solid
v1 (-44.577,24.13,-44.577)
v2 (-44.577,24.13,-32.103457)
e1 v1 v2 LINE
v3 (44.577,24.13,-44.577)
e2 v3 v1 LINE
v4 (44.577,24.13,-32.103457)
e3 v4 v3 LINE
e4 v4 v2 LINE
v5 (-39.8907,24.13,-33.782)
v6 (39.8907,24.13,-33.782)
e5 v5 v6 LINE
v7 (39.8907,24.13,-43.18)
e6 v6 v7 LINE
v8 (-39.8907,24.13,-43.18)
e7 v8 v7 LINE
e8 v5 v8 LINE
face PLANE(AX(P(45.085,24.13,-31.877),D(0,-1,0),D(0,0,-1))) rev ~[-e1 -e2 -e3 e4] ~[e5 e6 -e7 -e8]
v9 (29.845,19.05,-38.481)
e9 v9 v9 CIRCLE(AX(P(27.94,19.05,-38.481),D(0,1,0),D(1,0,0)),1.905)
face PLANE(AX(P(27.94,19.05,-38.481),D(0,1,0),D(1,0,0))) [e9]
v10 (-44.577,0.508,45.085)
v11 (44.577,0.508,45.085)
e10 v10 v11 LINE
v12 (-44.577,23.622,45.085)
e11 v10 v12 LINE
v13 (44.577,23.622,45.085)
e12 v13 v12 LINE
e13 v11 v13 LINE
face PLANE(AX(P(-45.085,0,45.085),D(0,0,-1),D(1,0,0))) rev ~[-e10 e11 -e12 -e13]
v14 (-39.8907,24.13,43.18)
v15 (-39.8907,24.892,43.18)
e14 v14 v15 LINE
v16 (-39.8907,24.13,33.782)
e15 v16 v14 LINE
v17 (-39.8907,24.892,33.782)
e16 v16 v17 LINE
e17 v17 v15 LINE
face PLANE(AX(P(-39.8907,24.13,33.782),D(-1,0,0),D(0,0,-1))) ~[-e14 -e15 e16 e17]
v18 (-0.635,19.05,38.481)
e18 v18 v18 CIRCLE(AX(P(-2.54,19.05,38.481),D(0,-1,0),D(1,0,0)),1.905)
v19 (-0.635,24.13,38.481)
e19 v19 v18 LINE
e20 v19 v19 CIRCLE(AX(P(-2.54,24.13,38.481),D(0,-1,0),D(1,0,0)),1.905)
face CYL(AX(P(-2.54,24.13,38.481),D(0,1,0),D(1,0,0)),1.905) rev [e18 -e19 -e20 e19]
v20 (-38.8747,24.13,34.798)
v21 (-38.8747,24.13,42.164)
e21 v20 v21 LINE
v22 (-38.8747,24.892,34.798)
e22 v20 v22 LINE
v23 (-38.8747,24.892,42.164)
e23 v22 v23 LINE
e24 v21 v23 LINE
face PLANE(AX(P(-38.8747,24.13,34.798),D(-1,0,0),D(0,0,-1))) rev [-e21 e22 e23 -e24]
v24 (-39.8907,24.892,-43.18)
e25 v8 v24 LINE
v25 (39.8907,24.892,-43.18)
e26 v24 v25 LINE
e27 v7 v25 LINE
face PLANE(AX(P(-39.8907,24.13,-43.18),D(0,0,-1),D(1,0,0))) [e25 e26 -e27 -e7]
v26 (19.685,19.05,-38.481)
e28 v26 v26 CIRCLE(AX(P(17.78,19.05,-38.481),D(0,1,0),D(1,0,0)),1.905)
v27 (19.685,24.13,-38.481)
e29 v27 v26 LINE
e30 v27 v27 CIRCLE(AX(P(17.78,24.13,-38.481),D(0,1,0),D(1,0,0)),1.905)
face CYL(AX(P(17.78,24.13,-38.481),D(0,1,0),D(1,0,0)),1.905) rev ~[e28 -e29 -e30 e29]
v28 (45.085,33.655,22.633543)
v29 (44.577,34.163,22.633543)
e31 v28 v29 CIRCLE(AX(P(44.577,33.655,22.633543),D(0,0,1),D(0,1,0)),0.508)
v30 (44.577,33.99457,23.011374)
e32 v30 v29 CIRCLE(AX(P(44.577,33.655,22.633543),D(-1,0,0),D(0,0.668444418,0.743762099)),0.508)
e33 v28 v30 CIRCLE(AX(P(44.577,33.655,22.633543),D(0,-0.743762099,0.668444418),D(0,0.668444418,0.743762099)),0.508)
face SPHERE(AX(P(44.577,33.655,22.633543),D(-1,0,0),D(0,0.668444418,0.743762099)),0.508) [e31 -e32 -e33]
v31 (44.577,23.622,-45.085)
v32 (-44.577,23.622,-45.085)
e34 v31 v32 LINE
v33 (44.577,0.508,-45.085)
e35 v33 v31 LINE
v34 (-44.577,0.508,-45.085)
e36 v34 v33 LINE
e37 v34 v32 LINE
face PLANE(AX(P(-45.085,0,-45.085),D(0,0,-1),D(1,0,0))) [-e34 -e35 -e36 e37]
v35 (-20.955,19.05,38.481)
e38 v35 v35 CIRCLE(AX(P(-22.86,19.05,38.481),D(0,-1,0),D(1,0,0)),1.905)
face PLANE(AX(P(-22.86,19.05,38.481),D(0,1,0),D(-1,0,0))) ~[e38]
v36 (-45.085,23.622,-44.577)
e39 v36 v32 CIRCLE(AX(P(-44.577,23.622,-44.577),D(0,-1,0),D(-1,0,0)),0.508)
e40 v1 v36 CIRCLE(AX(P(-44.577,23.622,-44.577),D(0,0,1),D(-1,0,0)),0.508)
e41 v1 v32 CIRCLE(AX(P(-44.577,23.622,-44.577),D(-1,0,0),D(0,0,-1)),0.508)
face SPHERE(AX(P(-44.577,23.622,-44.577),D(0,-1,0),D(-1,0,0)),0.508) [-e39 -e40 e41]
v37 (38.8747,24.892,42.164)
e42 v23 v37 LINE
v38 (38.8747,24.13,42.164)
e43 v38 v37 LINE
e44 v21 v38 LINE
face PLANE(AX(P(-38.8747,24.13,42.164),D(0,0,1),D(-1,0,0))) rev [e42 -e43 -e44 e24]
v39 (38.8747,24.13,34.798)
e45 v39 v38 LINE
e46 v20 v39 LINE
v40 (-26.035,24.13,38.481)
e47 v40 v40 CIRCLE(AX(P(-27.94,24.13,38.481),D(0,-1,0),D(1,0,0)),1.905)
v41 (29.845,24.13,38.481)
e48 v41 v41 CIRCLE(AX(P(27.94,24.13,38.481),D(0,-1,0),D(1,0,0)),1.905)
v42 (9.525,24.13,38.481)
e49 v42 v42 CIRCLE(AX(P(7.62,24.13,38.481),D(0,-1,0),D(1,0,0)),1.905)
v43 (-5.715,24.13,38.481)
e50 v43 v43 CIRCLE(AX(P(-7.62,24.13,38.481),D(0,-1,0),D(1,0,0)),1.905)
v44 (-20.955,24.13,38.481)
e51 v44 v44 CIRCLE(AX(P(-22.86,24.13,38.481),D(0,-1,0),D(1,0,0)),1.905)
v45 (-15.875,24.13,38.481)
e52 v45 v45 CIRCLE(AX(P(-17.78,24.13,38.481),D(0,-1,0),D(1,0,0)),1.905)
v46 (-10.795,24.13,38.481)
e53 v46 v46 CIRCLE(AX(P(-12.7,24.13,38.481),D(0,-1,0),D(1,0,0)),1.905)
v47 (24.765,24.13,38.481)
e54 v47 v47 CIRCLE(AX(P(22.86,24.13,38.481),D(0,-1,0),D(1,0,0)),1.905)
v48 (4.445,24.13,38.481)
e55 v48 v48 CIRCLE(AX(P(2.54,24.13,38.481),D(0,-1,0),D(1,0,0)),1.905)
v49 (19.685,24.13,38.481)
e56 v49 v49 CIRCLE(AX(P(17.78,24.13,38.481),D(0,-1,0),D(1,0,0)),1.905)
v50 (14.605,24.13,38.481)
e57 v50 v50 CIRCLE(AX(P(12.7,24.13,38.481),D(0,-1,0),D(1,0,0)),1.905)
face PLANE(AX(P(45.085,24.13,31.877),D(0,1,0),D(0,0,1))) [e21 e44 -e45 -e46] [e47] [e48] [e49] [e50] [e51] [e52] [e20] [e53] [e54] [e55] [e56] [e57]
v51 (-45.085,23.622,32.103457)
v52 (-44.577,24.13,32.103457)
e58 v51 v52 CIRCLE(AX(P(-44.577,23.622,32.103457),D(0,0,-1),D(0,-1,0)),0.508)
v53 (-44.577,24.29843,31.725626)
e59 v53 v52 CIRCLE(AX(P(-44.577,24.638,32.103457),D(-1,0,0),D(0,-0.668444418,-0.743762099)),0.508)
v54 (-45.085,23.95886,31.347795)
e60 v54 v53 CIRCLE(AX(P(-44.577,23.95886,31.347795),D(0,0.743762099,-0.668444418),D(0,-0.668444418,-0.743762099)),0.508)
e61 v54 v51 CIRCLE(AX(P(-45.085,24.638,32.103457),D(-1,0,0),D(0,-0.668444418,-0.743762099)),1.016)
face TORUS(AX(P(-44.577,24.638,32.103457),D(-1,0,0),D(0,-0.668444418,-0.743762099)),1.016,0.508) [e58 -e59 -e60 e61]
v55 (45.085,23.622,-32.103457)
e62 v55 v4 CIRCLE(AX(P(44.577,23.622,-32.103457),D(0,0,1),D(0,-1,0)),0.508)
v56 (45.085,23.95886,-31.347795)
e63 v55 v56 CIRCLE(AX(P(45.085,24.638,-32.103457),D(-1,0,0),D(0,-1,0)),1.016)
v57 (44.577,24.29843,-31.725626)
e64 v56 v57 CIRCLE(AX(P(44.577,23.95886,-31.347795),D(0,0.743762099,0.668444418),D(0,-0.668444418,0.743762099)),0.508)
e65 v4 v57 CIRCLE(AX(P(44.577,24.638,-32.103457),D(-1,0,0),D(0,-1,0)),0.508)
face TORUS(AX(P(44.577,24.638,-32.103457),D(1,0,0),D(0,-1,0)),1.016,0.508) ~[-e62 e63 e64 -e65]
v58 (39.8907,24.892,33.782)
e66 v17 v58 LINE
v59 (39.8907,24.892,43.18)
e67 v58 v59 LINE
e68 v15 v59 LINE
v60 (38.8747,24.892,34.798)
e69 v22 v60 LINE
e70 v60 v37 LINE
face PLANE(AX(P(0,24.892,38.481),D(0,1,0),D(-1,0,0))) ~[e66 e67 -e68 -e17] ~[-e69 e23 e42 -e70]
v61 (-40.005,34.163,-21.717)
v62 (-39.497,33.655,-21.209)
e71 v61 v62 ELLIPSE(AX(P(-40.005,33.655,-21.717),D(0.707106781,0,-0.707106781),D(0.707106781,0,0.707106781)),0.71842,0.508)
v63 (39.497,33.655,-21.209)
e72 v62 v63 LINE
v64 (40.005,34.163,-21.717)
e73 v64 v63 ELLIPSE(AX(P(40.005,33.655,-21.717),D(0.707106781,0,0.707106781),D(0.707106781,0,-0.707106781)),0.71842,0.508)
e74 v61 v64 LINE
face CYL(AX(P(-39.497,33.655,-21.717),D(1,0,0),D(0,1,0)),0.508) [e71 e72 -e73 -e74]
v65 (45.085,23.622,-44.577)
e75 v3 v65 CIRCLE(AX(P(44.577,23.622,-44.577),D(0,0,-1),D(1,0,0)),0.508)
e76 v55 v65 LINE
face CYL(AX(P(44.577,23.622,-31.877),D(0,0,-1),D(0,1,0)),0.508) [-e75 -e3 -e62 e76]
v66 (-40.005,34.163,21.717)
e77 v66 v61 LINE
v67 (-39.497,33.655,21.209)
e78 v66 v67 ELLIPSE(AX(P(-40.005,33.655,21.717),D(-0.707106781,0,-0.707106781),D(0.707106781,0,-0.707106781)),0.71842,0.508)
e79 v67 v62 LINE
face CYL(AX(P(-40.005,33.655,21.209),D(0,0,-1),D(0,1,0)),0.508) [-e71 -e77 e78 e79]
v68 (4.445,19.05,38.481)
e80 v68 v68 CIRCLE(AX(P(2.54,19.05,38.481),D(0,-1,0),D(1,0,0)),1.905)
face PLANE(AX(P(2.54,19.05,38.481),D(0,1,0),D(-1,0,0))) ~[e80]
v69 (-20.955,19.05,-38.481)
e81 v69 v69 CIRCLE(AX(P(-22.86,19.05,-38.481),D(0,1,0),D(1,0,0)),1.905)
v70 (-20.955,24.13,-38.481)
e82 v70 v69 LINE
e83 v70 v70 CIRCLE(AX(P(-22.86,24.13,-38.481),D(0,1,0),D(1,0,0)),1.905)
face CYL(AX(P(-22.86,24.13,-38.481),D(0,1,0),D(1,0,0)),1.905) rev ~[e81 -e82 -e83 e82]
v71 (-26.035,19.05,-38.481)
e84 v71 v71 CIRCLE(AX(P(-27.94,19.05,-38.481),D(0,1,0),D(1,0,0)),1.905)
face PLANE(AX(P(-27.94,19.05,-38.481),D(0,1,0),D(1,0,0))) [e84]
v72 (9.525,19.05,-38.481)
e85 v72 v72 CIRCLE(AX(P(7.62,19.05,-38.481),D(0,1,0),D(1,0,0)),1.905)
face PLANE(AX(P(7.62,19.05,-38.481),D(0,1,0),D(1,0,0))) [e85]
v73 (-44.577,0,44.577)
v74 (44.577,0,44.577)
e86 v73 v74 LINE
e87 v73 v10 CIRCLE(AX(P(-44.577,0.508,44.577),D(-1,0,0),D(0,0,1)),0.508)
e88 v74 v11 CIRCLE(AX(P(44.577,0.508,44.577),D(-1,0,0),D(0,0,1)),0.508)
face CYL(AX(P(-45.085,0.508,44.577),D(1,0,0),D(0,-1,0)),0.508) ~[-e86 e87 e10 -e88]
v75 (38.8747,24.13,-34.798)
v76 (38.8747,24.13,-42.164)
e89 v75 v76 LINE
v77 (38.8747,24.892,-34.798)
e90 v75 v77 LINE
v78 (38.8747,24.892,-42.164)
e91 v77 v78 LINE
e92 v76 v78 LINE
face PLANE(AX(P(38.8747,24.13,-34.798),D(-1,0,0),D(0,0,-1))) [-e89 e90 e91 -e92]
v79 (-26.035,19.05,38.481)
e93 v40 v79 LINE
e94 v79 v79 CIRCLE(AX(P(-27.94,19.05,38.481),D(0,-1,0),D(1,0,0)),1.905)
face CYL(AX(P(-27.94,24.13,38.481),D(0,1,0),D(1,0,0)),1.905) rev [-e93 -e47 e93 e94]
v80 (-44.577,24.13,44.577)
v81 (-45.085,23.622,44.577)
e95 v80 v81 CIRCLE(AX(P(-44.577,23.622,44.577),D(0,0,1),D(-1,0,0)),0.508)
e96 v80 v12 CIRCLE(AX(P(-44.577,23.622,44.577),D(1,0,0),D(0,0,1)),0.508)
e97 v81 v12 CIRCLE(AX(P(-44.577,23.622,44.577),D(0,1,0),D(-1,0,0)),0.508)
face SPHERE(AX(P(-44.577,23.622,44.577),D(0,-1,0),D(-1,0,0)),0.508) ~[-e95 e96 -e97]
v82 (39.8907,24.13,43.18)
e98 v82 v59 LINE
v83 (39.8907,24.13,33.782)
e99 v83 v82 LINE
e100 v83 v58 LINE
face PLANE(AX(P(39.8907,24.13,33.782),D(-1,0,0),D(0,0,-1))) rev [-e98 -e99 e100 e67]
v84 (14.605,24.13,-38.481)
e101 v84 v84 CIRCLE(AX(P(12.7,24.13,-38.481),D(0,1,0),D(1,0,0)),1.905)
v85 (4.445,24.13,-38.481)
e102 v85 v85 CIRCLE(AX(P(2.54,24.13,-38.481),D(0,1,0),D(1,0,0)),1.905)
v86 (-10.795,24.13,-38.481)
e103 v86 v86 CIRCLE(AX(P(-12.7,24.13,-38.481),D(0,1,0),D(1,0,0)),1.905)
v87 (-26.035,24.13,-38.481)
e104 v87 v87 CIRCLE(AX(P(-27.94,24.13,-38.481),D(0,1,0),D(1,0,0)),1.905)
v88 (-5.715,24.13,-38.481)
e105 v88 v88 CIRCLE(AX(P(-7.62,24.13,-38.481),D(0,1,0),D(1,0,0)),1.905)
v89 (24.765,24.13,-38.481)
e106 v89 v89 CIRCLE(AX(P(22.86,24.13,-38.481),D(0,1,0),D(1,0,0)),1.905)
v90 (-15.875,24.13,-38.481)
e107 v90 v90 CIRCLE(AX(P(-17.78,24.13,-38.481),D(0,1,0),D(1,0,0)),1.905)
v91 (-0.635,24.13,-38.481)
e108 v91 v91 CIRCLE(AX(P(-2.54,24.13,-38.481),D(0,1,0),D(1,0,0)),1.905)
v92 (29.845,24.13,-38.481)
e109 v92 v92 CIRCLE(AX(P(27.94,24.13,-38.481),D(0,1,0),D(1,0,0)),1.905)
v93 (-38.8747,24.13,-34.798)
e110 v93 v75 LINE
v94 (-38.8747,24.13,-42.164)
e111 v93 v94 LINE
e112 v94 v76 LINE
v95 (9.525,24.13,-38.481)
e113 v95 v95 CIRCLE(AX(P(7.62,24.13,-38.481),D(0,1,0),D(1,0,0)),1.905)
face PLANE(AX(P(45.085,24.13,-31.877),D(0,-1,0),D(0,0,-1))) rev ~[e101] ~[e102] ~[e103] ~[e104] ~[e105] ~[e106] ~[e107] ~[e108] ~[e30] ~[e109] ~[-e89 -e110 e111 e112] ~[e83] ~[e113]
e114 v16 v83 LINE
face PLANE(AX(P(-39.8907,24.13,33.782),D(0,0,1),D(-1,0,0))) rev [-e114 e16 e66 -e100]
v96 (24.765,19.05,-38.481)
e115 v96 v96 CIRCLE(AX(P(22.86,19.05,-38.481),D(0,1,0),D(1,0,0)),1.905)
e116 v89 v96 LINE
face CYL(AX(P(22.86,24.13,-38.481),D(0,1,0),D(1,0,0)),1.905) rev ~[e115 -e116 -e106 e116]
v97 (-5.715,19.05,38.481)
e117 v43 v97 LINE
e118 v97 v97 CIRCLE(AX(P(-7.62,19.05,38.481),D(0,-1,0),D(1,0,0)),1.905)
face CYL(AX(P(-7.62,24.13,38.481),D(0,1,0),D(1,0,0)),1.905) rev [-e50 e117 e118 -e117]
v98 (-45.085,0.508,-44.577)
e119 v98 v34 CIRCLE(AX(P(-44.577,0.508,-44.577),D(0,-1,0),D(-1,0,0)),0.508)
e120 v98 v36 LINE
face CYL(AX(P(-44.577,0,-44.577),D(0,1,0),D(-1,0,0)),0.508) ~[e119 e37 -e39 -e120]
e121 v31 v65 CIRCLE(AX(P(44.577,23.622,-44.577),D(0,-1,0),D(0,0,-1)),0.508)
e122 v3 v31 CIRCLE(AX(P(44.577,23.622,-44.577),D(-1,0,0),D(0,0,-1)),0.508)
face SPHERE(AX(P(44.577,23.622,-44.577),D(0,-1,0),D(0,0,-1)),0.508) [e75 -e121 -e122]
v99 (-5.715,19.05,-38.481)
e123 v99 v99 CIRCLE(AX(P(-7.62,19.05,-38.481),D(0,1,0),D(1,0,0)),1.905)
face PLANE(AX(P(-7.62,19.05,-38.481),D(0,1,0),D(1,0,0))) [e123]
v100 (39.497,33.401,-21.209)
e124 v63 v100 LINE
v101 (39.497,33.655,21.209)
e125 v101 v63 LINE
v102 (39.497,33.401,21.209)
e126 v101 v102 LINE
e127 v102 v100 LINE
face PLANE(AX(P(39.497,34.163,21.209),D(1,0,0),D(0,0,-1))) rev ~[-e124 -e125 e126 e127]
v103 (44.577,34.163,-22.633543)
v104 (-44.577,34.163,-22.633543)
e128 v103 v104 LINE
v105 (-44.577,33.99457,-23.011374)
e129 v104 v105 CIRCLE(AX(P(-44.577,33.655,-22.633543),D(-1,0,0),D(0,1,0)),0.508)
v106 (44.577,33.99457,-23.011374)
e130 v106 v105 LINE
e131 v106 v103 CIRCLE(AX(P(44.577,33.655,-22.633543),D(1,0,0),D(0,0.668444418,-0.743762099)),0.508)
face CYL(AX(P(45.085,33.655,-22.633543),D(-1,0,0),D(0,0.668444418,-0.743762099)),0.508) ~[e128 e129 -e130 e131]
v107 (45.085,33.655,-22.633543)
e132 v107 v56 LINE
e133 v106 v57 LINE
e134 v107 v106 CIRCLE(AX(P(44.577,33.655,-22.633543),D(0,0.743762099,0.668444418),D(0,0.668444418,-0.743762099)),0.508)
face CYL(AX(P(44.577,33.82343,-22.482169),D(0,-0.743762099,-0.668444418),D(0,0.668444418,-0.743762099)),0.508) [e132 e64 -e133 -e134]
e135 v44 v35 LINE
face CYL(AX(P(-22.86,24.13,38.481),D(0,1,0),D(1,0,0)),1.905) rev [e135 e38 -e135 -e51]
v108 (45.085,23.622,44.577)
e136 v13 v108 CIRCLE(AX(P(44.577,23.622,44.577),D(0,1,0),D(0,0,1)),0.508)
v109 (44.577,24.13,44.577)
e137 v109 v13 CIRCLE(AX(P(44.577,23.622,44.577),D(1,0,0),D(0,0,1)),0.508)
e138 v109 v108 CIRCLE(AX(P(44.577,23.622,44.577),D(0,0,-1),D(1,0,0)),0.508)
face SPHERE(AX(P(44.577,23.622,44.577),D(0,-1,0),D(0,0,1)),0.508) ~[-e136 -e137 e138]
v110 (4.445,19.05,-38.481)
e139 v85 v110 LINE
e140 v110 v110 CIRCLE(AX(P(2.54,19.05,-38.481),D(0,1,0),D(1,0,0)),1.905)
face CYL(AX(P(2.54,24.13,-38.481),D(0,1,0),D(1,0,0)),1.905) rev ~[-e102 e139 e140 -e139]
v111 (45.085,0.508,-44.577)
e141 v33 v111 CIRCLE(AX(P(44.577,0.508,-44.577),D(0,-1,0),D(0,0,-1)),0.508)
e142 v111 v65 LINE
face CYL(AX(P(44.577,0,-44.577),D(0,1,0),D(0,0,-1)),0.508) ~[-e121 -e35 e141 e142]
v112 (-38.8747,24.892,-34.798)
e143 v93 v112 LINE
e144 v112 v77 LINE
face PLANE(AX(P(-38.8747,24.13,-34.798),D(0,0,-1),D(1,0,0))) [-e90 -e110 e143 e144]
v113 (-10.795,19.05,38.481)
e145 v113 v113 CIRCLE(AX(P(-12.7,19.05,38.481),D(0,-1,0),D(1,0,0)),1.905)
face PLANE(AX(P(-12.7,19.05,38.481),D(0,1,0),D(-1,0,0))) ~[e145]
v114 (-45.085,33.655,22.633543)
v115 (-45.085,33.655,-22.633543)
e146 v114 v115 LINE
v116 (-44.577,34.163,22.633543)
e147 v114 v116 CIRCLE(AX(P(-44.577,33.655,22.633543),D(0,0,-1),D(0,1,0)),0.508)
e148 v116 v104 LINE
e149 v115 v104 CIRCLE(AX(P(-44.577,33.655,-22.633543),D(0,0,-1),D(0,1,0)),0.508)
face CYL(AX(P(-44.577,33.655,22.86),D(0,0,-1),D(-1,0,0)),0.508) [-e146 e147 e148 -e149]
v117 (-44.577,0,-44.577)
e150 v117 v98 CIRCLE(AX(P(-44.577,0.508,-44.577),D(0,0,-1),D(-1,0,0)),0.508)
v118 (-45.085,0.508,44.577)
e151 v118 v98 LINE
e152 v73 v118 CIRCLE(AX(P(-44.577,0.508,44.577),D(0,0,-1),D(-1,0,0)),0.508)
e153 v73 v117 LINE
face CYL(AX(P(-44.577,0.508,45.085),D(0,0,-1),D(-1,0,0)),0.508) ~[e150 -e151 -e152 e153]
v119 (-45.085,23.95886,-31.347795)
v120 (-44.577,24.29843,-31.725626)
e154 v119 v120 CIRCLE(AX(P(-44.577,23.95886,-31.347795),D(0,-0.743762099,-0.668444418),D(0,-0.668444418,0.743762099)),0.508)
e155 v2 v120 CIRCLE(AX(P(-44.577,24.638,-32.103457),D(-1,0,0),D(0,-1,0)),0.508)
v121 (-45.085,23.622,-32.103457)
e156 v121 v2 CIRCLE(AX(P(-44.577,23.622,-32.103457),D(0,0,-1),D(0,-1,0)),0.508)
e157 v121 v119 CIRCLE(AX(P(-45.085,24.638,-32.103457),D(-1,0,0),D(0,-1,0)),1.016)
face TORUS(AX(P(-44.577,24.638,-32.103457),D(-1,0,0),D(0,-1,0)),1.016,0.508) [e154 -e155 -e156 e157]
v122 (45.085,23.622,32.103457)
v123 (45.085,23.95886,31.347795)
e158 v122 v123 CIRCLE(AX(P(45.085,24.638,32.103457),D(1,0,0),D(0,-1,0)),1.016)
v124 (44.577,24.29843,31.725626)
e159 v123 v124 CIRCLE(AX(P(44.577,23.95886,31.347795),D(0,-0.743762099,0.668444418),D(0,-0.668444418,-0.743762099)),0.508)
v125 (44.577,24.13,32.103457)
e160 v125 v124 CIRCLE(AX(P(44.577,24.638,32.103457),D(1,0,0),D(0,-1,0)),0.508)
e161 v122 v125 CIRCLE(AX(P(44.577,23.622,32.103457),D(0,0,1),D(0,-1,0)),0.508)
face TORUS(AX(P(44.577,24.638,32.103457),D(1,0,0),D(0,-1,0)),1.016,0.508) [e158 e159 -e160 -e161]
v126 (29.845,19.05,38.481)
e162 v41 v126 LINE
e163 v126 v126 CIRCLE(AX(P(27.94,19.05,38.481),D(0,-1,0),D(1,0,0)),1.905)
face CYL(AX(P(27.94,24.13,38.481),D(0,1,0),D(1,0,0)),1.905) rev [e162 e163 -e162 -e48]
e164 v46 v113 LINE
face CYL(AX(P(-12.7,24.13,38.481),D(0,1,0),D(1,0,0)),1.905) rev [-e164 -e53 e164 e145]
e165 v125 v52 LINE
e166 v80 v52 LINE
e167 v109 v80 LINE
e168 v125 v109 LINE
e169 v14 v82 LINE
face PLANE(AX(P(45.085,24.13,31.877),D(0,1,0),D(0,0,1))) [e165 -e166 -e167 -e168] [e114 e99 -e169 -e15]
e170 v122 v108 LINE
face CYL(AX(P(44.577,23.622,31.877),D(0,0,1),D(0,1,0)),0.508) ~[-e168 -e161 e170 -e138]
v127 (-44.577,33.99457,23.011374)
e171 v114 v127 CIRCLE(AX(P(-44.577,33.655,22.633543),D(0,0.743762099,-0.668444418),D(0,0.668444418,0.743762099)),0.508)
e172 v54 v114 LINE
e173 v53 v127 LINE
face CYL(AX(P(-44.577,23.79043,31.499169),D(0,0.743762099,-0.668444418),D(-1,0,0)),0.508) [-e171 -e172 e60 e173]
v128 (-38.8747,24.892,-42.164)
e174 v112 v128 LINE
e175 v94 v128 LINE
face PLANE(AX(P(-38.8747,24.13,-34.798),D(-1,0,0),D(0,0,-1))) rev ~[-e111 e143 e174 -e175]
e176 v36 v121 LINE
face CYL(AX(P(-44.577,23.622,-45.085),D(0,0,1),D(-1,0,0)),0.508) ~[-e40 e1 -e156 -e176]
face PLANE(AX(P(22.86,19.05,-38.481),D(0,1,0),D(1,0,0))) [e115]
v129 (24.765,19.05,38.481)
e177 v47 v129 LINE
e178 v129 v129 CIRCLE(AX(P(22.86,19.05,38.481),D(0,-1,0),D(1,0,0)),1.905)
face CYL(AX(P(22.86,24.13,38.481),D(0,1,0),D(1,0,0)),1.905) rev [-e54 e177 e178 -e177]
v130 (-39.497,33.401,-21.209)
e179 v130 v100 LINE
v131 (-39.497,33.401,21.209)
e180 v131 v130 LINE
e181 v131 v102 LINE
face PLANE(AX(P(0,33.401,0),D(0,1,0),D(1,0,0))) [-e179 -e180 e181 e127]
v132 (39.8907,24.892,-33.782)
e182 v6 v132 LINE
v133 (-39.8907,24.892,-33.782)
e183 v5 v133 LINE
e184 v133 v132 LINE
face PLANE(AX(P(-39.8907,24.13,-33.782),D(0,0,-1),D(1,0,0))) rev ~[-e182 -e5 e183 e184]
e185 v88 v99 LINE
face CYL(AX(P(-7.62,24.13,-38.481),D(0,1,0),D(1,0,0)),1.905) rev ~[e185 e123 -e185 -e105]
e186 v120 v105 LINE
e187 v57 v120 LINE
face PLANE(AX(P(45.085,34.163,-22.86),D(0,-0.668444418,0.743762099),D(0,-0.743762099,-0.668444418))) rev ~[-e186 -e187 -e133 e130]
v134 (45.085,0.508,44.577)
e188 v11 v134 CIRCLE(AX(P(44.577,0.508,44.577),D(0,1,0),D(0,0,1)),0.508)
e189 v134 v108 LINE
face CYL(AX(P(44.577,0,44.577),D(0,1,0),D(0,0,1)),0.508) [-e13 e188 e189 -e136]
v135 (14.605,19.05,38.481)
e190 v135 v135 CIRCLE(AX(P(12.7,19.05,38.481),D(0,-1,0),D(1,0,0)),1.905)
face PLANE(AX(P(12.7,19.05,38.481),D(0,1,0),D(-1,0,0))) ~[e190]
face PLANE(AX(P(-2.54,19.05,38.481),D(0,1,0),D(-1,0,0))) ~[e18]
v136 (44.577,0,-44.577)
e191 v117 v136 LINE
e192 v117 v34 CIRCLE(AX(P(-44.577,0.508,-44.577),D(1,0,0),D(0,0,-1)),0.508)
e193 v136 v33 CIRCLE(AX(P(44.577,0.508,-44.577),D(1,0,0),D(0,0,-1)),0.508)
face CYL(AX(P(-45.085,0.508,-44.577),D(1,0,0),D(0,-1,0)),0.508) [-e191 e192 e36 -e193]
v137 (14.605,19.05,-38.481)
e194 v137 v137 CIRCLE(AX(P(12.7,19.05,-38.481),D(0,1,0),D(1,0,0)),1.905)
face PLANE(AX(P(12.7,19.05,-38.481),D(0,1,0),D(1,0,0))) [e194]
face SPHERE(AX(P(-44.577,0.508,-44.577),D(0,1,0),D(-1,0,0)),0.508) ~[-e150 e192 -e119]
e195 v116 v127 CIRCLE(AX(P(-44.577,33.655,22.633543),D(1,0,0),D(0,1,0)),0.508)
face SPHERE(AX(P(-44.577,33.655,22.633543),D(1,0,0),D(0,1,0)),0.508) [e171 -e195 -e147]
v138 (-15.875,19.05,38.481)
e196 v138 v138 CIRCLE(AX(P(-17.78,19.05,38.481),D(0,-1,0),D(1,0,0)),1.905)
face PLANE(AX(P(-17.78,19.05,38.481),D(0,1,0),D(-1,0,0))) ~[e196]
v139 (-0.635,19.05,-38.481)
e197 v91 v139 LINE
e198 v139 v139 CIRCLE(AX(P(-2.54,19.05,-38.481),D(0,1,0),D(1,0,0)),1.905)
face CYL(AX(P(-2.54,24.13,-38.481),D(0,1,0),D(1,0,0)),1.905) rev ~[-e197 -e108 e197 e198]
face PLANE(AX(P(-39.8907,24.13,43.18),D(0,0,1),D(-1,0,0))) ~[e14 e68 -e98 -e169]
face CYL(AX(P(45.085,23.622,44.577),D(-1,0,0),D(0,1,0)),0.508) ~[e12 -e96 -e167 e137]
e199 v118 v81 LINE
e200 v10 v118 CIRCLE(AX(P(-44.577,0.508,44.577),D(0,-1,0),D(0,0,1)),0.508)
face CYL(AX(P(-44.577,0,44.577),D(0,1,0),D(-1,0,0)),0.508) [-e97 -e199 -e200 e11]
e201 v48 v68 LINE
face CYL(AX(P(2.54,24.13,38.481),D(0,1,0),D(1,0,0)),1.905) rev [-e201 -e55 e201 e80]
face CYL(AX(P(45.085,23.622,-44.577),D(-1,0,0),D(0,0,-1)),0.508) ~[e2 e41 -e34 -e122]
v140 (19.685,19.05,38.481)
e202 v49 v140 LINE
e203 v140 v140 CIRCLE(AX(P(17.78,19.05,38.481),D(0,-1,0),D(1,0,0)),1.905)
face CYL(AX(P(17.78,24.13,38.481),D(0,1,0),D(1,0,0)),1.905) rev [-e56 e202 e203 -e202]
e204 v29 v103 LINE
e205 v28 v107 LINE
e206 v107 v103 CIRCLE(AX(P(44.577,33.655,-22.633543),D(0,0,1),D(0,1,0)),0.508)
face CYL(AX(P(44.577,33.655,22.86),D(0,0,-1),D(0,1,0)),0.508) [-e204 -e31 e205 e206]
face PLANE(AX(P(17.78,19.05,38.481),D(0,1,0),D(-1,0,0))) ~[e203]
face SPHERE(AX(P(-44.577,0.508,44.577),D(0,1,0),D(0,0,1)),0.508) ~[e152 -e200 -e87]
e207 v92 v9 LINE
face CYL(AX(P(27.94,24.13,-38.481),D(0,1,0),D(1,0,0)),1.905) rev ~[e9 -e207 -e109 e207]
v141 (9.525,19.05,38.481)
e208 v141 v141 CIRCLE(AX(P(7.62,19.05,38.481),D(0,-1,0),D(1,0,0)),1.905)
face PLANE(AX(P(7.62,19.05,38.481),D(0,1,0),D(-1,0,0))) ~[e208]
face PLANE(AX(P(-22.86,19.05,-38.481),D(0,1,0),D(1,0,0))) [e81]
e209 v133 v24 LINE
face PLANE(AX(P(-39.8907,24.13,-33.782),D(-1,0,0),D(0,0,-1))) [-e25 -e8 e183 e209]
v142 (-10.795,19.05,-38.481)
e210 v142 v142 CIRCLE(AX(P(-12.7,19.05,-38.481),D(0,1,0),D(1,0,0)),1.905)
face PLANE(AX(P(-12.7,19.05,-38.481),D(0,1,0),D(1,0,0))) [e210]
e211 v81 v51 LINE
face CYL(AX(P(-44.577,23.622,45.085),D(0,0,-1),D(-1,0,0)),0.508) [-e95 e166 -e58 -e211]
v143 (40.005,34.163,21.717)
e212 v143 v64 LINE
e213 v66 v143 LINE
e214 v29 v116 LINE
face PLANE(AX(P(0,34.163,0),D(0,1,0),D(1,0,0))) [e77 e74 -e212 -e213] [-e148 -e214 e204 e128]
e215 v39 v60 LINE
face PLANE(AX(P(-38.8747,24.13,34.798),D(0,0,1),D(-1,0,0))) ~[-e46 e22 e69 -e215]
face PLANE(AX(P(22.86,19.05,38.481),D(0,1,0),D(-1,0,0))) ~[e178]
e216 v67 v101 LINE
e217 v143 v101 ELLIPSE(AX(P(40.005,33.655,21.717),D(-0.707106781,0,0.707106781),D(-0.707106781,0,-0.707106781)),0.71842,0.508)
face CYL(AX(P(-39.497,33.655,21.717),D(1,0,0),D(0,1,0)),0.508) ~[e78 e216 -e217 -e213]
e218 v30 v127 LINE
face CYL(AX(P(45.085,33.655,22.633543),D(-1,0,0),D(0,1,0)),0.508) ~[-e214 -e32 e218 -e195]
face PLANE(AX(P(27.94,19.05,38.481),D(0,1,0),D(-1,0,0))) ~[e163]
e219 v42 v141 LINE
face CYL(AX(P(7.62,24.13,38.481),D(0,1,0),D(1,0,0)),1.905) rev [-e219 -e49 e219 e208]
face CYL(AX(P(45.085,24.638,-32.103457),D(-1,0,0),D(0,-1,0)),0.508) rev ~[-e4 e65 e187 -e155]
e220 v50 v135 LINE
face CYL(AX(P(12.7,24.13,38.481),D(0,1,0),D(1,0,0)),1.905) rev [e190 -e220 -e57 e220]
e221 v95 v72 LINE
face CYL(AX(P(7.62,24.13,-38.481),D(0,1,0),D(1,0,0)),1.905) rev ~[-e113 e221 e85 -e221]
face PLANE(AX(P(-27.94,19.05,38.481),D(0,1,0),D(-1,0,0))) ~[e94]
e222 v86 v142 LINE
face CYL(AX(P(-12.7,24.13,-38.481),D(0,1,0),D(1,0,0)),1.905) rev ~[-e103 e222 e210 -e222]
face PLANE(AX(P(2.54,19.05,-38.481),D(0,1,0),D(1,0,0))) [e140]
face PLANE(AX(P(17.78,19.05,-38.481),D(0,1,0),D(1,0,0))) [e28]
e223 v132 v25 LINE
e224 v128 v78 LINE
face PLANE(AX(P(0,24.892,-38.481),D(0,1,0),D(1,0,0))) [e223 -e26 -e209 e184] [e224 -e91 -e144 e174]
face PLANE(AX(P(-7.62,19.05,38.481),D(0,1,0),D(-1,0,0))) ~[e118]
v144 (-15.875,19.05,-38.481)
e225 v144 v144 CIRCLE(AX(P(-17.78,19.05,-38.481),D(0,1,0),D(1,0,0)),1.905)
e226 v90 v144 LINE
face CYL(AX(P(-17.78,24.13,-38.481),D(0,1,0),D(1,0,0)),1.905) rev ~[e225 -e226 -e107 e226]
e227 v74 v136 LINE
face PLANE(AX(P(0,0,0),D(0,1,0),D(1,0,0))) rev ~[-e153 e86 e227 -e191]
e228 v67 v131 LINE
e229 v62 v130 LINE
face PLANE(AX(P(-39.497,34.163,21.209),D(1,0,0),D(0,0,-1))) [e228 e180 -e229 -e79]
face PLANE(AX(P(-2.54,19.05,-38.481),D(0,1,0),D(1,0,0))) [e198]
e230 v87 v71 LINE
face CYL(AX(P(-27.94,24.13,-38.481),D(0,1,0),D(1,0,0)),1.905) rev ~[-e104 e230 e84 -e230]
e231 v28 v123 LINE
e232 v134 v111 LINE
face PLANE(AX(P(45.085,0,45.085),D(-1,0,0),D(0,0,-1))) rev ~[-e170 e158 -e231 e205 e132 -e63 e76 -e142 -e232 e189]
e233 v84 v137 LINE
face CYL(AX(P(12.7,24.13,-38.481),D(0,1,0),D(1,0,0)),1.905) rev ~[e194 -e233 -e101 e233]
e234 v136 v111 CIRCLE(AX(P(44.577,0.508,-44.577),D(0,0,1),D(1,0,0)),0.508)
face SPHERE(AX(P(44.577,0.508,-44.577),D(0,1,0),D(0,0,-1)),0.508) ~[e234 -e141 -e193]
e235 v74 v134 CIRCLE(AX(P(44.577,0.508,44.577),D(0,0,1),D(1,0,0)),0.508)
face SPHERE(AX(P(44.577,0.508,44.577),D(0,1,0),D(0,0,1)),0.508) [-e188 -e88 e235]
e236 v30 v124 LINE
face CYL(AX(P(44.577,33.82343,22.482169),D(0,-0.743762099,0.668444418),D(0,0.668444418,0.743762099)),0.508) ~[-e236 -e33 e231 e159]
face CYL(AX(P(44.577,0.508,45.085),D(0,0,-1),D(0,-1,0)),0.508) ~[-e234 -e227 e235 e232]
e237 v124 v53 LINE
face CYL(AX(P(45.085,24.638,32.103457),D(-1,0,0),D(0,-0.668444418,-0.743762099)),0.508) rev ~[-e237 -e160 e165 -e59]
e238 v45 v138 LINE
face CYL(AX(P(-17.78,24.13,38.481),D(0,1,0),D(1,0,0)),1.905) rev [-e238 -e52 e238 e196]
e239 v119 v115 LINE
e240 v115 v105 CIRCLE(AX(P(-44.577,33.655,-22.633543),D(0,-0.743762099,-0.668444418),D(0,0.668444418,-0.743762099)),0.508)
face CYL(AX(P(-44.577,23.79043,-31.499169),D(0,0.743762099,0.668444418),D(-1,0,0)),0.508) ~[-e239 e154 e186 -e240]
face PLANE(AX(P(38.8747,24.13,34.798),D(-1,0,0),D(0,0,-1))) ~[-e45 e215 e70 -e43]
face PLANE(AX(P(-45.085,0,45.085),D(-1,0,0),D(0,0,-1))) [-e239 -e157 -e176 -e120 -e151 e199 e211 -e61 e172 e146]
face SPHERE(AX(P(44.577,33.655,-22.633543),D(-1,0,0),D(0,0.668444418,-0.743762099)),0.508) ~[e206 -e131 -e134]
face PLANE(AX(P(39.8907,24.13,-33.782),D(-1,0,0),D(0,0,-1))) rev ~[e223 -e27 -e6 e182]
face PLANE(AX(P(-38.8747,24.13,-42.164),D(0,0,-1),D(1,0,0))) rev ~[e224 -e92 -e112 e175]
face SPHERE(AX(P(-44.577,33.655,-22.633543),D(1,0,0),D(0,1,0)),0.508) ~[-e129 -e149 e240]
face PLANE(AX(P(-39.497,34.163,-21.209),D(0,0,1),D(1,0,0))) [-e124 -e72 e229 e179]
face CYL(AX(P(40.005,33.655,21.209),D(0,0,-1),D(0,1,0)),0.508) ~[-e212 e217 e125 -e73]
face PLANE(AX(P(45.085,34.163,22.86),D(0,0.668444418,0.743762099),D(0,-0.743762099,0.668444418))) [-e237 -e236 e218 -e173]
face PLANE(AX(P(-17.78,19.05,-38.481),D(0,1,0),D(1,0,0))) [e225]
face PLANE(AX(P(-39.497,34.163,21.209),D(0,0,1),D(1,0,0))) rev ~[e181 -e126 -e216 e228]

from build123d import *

# Parameters (mm, degrees)
SKETCH1_W           = 90.17
SKETCH1_H           = 90.17
BOSS_EXTRUDE1_DEPTH = 34.163
CUT_EXTRUDE1_DEPTH  = 91.17
SKETCH3_W           = 78.994
SKETCH3_H           = 42.418
CUT_EXTRUDE2_DEPTH  = 0.762
SKETCH4_W           = 79.7814
SKETCH4_H           = 9.398
SKETCH4_W_2         = 77.7494
SKETCH4_H_2         = 7.366
BOSS_EXTRUDE2_DEPTH = 0.762
SKETCH5_R           = 1.905
CUT_EXTRUDE3_DEPTH  = 5.08
FILLET1_R           = 0.508


with BuildPart() as part:
    # Sketch1 → Boss-Extrude1 (new body)
    with BuildSketch(Plane(origin=(0, 0, 0), x_dir=(1, 0, 0), z_dir=(0, 1, 0))):
        Rectangle(SKETCH1_W, SKETCH1_H)
    extrude(amount=BOSS_EXTRUDE1_DEPTH)

    # Sketch2 → Cut-Extrude1 (cut, through all)
    with BuildSketch(Plane(origin=(45.085, 0, 0), x_dir=(0, 0, -1), z_dir=(1, 0, 0))):
        Polygon((-45.085, 24.13), (-45.085, 34.163), (-22.86, 34.163), (-31.877, 24.13), align=None)
        Polygon((45.085, 24.13), (45.085, 34.163), (22.86, 34.163), (31.877, 24.13), align=None)
    extrude(amount=-CUT_EXTRUDE1_DEPTH, mode=Mode.SUBTRACT)

    # Sketch3 → Cut-Extrude2 (cut)
    with BuildSketch(Plane(origin=(0, 34.163, 0), x_dir=(1, 0, 0), z_dir=(0, 1, 0))):
        Rectangle(SKETCH3_W, SKETCH3_H)
    extrude(amount=-CUT_EXTRUDE2_DEPTH, mode=Mode.SUBTRACT)

    # Sketch4 → Boss-Extrude2 (add)
    with BuildSketch(Plane(origin=(0, 24.13, 0), x_dir=(1, 0, 0), z_dir=(0, 1, 0))):
        with Locations((0, 38.481)):
            Rectangle(SKETCH4_W, SKETCH4_H)
        with Locations((0, 38.481)):
            Rectangle(SKETCH4_W_2, SKETCH4_H_2, mode=Mode.SUBTRACT)
    boss_extrude2 = extrude(amount=BOSS_EXTRUDE2_DEPTH)

    # Sketch5 → Cut-Extrude3 (cut)
    with BuildSketch(Plane(origin=(0, 24.13, 0), x_dir=(1, 0, 0), z_dir=(0, 1, 0))):
        with Locations((-2.54, 38.481)):
            Circle(SKETCH5_R)
        with Locations((-7.62, 38.481)):
            Circle(SKETCH5_R)
        with Locations((-12.7, 38.481)):
            Circle(SKETCH5_R)
        with Locations((-17.78, 38.481)):
            Circle(SKETCH5_R)
        with Locations((-22.86, 38.481)):
            Circle(SKETCH5_R)
        with Locations((-27.94, 38.481)):
            Circle(SKETCH5_R)
        with Locations((27.94, 38.481)):
            Circle(SKETCH5_R)
        with Locations((22.86, 38.481)):
            Circle(SKETCH5_R)
        with Locations((17.78, 38.481)):
            Circle(SKETCH5_R)
        with Locations((12.7, 38.481)):
            Circle(SKETCH5_R)
        with Locations((7.62, 38.481)):
            Circle(SKETCH5_R)
        with Locations((2.54, 38.481)):
            Circle(SKETCH5_R)
    cut_extrude3 = extrude(amount=-CUT_EXTRUDE3_DEPTH, mode=Mode.SUBTRACT)

    # Mirror1: Boss-Extrude2, Cut-Extrude3 across plane
    add(boss_extrude2.mirror(Plane.XY))
    add(cut_extrude3.mirror(Plane.XY), mode=Mode.SUBTRACT)

    # Fillet1
    fillet1_edges = [part.edges().sort_by_distance(p)[0] for p in [
        (45.085, 34.163, 0),
        (-45.085, 34.163, 0),
        (45.085, 12.065, 45.085),
        (-45.085, 12.065, 45.085),
        (-45.085, 12.065, -45.085),
        (45.085, 12.065, -45.085),
        (-45.085, 24.13, 38.481),
        (0, 24.13, 31.877),
        (0, 24.13, 45.085),
        (-45.085, 29.1465, 27.3685),
        (0, 34.163, 22.86),
        (45.085, 24.13, 38.481),
        (45.085, 29.1465, 27.3685),
        (-45.085, 24.13, -38.481),
        (0, 24.13, -45.085),
        (-45.085, 29.1465, -27.3685),
        (0, 24.13, -31.877),
        (0, 34.163, -22.86),
        (45.085, 24.13, -38.481),
        (45.085, 29.1465, -27.3685),
        (39.497, 34.163, 0),
        (0, 34.163, -21.209),
        (-39.497, 34.163, 0),
        (0, 34.163, 21.209),
        (0, 0, 45.085),
        (-45.085, 0, 0),
        (0, 0, -45.085),
        (45.085, 0, 0),
    ]]
    fillet(fillet1_edges, radius=FILLET1_R)


solid = part.part
